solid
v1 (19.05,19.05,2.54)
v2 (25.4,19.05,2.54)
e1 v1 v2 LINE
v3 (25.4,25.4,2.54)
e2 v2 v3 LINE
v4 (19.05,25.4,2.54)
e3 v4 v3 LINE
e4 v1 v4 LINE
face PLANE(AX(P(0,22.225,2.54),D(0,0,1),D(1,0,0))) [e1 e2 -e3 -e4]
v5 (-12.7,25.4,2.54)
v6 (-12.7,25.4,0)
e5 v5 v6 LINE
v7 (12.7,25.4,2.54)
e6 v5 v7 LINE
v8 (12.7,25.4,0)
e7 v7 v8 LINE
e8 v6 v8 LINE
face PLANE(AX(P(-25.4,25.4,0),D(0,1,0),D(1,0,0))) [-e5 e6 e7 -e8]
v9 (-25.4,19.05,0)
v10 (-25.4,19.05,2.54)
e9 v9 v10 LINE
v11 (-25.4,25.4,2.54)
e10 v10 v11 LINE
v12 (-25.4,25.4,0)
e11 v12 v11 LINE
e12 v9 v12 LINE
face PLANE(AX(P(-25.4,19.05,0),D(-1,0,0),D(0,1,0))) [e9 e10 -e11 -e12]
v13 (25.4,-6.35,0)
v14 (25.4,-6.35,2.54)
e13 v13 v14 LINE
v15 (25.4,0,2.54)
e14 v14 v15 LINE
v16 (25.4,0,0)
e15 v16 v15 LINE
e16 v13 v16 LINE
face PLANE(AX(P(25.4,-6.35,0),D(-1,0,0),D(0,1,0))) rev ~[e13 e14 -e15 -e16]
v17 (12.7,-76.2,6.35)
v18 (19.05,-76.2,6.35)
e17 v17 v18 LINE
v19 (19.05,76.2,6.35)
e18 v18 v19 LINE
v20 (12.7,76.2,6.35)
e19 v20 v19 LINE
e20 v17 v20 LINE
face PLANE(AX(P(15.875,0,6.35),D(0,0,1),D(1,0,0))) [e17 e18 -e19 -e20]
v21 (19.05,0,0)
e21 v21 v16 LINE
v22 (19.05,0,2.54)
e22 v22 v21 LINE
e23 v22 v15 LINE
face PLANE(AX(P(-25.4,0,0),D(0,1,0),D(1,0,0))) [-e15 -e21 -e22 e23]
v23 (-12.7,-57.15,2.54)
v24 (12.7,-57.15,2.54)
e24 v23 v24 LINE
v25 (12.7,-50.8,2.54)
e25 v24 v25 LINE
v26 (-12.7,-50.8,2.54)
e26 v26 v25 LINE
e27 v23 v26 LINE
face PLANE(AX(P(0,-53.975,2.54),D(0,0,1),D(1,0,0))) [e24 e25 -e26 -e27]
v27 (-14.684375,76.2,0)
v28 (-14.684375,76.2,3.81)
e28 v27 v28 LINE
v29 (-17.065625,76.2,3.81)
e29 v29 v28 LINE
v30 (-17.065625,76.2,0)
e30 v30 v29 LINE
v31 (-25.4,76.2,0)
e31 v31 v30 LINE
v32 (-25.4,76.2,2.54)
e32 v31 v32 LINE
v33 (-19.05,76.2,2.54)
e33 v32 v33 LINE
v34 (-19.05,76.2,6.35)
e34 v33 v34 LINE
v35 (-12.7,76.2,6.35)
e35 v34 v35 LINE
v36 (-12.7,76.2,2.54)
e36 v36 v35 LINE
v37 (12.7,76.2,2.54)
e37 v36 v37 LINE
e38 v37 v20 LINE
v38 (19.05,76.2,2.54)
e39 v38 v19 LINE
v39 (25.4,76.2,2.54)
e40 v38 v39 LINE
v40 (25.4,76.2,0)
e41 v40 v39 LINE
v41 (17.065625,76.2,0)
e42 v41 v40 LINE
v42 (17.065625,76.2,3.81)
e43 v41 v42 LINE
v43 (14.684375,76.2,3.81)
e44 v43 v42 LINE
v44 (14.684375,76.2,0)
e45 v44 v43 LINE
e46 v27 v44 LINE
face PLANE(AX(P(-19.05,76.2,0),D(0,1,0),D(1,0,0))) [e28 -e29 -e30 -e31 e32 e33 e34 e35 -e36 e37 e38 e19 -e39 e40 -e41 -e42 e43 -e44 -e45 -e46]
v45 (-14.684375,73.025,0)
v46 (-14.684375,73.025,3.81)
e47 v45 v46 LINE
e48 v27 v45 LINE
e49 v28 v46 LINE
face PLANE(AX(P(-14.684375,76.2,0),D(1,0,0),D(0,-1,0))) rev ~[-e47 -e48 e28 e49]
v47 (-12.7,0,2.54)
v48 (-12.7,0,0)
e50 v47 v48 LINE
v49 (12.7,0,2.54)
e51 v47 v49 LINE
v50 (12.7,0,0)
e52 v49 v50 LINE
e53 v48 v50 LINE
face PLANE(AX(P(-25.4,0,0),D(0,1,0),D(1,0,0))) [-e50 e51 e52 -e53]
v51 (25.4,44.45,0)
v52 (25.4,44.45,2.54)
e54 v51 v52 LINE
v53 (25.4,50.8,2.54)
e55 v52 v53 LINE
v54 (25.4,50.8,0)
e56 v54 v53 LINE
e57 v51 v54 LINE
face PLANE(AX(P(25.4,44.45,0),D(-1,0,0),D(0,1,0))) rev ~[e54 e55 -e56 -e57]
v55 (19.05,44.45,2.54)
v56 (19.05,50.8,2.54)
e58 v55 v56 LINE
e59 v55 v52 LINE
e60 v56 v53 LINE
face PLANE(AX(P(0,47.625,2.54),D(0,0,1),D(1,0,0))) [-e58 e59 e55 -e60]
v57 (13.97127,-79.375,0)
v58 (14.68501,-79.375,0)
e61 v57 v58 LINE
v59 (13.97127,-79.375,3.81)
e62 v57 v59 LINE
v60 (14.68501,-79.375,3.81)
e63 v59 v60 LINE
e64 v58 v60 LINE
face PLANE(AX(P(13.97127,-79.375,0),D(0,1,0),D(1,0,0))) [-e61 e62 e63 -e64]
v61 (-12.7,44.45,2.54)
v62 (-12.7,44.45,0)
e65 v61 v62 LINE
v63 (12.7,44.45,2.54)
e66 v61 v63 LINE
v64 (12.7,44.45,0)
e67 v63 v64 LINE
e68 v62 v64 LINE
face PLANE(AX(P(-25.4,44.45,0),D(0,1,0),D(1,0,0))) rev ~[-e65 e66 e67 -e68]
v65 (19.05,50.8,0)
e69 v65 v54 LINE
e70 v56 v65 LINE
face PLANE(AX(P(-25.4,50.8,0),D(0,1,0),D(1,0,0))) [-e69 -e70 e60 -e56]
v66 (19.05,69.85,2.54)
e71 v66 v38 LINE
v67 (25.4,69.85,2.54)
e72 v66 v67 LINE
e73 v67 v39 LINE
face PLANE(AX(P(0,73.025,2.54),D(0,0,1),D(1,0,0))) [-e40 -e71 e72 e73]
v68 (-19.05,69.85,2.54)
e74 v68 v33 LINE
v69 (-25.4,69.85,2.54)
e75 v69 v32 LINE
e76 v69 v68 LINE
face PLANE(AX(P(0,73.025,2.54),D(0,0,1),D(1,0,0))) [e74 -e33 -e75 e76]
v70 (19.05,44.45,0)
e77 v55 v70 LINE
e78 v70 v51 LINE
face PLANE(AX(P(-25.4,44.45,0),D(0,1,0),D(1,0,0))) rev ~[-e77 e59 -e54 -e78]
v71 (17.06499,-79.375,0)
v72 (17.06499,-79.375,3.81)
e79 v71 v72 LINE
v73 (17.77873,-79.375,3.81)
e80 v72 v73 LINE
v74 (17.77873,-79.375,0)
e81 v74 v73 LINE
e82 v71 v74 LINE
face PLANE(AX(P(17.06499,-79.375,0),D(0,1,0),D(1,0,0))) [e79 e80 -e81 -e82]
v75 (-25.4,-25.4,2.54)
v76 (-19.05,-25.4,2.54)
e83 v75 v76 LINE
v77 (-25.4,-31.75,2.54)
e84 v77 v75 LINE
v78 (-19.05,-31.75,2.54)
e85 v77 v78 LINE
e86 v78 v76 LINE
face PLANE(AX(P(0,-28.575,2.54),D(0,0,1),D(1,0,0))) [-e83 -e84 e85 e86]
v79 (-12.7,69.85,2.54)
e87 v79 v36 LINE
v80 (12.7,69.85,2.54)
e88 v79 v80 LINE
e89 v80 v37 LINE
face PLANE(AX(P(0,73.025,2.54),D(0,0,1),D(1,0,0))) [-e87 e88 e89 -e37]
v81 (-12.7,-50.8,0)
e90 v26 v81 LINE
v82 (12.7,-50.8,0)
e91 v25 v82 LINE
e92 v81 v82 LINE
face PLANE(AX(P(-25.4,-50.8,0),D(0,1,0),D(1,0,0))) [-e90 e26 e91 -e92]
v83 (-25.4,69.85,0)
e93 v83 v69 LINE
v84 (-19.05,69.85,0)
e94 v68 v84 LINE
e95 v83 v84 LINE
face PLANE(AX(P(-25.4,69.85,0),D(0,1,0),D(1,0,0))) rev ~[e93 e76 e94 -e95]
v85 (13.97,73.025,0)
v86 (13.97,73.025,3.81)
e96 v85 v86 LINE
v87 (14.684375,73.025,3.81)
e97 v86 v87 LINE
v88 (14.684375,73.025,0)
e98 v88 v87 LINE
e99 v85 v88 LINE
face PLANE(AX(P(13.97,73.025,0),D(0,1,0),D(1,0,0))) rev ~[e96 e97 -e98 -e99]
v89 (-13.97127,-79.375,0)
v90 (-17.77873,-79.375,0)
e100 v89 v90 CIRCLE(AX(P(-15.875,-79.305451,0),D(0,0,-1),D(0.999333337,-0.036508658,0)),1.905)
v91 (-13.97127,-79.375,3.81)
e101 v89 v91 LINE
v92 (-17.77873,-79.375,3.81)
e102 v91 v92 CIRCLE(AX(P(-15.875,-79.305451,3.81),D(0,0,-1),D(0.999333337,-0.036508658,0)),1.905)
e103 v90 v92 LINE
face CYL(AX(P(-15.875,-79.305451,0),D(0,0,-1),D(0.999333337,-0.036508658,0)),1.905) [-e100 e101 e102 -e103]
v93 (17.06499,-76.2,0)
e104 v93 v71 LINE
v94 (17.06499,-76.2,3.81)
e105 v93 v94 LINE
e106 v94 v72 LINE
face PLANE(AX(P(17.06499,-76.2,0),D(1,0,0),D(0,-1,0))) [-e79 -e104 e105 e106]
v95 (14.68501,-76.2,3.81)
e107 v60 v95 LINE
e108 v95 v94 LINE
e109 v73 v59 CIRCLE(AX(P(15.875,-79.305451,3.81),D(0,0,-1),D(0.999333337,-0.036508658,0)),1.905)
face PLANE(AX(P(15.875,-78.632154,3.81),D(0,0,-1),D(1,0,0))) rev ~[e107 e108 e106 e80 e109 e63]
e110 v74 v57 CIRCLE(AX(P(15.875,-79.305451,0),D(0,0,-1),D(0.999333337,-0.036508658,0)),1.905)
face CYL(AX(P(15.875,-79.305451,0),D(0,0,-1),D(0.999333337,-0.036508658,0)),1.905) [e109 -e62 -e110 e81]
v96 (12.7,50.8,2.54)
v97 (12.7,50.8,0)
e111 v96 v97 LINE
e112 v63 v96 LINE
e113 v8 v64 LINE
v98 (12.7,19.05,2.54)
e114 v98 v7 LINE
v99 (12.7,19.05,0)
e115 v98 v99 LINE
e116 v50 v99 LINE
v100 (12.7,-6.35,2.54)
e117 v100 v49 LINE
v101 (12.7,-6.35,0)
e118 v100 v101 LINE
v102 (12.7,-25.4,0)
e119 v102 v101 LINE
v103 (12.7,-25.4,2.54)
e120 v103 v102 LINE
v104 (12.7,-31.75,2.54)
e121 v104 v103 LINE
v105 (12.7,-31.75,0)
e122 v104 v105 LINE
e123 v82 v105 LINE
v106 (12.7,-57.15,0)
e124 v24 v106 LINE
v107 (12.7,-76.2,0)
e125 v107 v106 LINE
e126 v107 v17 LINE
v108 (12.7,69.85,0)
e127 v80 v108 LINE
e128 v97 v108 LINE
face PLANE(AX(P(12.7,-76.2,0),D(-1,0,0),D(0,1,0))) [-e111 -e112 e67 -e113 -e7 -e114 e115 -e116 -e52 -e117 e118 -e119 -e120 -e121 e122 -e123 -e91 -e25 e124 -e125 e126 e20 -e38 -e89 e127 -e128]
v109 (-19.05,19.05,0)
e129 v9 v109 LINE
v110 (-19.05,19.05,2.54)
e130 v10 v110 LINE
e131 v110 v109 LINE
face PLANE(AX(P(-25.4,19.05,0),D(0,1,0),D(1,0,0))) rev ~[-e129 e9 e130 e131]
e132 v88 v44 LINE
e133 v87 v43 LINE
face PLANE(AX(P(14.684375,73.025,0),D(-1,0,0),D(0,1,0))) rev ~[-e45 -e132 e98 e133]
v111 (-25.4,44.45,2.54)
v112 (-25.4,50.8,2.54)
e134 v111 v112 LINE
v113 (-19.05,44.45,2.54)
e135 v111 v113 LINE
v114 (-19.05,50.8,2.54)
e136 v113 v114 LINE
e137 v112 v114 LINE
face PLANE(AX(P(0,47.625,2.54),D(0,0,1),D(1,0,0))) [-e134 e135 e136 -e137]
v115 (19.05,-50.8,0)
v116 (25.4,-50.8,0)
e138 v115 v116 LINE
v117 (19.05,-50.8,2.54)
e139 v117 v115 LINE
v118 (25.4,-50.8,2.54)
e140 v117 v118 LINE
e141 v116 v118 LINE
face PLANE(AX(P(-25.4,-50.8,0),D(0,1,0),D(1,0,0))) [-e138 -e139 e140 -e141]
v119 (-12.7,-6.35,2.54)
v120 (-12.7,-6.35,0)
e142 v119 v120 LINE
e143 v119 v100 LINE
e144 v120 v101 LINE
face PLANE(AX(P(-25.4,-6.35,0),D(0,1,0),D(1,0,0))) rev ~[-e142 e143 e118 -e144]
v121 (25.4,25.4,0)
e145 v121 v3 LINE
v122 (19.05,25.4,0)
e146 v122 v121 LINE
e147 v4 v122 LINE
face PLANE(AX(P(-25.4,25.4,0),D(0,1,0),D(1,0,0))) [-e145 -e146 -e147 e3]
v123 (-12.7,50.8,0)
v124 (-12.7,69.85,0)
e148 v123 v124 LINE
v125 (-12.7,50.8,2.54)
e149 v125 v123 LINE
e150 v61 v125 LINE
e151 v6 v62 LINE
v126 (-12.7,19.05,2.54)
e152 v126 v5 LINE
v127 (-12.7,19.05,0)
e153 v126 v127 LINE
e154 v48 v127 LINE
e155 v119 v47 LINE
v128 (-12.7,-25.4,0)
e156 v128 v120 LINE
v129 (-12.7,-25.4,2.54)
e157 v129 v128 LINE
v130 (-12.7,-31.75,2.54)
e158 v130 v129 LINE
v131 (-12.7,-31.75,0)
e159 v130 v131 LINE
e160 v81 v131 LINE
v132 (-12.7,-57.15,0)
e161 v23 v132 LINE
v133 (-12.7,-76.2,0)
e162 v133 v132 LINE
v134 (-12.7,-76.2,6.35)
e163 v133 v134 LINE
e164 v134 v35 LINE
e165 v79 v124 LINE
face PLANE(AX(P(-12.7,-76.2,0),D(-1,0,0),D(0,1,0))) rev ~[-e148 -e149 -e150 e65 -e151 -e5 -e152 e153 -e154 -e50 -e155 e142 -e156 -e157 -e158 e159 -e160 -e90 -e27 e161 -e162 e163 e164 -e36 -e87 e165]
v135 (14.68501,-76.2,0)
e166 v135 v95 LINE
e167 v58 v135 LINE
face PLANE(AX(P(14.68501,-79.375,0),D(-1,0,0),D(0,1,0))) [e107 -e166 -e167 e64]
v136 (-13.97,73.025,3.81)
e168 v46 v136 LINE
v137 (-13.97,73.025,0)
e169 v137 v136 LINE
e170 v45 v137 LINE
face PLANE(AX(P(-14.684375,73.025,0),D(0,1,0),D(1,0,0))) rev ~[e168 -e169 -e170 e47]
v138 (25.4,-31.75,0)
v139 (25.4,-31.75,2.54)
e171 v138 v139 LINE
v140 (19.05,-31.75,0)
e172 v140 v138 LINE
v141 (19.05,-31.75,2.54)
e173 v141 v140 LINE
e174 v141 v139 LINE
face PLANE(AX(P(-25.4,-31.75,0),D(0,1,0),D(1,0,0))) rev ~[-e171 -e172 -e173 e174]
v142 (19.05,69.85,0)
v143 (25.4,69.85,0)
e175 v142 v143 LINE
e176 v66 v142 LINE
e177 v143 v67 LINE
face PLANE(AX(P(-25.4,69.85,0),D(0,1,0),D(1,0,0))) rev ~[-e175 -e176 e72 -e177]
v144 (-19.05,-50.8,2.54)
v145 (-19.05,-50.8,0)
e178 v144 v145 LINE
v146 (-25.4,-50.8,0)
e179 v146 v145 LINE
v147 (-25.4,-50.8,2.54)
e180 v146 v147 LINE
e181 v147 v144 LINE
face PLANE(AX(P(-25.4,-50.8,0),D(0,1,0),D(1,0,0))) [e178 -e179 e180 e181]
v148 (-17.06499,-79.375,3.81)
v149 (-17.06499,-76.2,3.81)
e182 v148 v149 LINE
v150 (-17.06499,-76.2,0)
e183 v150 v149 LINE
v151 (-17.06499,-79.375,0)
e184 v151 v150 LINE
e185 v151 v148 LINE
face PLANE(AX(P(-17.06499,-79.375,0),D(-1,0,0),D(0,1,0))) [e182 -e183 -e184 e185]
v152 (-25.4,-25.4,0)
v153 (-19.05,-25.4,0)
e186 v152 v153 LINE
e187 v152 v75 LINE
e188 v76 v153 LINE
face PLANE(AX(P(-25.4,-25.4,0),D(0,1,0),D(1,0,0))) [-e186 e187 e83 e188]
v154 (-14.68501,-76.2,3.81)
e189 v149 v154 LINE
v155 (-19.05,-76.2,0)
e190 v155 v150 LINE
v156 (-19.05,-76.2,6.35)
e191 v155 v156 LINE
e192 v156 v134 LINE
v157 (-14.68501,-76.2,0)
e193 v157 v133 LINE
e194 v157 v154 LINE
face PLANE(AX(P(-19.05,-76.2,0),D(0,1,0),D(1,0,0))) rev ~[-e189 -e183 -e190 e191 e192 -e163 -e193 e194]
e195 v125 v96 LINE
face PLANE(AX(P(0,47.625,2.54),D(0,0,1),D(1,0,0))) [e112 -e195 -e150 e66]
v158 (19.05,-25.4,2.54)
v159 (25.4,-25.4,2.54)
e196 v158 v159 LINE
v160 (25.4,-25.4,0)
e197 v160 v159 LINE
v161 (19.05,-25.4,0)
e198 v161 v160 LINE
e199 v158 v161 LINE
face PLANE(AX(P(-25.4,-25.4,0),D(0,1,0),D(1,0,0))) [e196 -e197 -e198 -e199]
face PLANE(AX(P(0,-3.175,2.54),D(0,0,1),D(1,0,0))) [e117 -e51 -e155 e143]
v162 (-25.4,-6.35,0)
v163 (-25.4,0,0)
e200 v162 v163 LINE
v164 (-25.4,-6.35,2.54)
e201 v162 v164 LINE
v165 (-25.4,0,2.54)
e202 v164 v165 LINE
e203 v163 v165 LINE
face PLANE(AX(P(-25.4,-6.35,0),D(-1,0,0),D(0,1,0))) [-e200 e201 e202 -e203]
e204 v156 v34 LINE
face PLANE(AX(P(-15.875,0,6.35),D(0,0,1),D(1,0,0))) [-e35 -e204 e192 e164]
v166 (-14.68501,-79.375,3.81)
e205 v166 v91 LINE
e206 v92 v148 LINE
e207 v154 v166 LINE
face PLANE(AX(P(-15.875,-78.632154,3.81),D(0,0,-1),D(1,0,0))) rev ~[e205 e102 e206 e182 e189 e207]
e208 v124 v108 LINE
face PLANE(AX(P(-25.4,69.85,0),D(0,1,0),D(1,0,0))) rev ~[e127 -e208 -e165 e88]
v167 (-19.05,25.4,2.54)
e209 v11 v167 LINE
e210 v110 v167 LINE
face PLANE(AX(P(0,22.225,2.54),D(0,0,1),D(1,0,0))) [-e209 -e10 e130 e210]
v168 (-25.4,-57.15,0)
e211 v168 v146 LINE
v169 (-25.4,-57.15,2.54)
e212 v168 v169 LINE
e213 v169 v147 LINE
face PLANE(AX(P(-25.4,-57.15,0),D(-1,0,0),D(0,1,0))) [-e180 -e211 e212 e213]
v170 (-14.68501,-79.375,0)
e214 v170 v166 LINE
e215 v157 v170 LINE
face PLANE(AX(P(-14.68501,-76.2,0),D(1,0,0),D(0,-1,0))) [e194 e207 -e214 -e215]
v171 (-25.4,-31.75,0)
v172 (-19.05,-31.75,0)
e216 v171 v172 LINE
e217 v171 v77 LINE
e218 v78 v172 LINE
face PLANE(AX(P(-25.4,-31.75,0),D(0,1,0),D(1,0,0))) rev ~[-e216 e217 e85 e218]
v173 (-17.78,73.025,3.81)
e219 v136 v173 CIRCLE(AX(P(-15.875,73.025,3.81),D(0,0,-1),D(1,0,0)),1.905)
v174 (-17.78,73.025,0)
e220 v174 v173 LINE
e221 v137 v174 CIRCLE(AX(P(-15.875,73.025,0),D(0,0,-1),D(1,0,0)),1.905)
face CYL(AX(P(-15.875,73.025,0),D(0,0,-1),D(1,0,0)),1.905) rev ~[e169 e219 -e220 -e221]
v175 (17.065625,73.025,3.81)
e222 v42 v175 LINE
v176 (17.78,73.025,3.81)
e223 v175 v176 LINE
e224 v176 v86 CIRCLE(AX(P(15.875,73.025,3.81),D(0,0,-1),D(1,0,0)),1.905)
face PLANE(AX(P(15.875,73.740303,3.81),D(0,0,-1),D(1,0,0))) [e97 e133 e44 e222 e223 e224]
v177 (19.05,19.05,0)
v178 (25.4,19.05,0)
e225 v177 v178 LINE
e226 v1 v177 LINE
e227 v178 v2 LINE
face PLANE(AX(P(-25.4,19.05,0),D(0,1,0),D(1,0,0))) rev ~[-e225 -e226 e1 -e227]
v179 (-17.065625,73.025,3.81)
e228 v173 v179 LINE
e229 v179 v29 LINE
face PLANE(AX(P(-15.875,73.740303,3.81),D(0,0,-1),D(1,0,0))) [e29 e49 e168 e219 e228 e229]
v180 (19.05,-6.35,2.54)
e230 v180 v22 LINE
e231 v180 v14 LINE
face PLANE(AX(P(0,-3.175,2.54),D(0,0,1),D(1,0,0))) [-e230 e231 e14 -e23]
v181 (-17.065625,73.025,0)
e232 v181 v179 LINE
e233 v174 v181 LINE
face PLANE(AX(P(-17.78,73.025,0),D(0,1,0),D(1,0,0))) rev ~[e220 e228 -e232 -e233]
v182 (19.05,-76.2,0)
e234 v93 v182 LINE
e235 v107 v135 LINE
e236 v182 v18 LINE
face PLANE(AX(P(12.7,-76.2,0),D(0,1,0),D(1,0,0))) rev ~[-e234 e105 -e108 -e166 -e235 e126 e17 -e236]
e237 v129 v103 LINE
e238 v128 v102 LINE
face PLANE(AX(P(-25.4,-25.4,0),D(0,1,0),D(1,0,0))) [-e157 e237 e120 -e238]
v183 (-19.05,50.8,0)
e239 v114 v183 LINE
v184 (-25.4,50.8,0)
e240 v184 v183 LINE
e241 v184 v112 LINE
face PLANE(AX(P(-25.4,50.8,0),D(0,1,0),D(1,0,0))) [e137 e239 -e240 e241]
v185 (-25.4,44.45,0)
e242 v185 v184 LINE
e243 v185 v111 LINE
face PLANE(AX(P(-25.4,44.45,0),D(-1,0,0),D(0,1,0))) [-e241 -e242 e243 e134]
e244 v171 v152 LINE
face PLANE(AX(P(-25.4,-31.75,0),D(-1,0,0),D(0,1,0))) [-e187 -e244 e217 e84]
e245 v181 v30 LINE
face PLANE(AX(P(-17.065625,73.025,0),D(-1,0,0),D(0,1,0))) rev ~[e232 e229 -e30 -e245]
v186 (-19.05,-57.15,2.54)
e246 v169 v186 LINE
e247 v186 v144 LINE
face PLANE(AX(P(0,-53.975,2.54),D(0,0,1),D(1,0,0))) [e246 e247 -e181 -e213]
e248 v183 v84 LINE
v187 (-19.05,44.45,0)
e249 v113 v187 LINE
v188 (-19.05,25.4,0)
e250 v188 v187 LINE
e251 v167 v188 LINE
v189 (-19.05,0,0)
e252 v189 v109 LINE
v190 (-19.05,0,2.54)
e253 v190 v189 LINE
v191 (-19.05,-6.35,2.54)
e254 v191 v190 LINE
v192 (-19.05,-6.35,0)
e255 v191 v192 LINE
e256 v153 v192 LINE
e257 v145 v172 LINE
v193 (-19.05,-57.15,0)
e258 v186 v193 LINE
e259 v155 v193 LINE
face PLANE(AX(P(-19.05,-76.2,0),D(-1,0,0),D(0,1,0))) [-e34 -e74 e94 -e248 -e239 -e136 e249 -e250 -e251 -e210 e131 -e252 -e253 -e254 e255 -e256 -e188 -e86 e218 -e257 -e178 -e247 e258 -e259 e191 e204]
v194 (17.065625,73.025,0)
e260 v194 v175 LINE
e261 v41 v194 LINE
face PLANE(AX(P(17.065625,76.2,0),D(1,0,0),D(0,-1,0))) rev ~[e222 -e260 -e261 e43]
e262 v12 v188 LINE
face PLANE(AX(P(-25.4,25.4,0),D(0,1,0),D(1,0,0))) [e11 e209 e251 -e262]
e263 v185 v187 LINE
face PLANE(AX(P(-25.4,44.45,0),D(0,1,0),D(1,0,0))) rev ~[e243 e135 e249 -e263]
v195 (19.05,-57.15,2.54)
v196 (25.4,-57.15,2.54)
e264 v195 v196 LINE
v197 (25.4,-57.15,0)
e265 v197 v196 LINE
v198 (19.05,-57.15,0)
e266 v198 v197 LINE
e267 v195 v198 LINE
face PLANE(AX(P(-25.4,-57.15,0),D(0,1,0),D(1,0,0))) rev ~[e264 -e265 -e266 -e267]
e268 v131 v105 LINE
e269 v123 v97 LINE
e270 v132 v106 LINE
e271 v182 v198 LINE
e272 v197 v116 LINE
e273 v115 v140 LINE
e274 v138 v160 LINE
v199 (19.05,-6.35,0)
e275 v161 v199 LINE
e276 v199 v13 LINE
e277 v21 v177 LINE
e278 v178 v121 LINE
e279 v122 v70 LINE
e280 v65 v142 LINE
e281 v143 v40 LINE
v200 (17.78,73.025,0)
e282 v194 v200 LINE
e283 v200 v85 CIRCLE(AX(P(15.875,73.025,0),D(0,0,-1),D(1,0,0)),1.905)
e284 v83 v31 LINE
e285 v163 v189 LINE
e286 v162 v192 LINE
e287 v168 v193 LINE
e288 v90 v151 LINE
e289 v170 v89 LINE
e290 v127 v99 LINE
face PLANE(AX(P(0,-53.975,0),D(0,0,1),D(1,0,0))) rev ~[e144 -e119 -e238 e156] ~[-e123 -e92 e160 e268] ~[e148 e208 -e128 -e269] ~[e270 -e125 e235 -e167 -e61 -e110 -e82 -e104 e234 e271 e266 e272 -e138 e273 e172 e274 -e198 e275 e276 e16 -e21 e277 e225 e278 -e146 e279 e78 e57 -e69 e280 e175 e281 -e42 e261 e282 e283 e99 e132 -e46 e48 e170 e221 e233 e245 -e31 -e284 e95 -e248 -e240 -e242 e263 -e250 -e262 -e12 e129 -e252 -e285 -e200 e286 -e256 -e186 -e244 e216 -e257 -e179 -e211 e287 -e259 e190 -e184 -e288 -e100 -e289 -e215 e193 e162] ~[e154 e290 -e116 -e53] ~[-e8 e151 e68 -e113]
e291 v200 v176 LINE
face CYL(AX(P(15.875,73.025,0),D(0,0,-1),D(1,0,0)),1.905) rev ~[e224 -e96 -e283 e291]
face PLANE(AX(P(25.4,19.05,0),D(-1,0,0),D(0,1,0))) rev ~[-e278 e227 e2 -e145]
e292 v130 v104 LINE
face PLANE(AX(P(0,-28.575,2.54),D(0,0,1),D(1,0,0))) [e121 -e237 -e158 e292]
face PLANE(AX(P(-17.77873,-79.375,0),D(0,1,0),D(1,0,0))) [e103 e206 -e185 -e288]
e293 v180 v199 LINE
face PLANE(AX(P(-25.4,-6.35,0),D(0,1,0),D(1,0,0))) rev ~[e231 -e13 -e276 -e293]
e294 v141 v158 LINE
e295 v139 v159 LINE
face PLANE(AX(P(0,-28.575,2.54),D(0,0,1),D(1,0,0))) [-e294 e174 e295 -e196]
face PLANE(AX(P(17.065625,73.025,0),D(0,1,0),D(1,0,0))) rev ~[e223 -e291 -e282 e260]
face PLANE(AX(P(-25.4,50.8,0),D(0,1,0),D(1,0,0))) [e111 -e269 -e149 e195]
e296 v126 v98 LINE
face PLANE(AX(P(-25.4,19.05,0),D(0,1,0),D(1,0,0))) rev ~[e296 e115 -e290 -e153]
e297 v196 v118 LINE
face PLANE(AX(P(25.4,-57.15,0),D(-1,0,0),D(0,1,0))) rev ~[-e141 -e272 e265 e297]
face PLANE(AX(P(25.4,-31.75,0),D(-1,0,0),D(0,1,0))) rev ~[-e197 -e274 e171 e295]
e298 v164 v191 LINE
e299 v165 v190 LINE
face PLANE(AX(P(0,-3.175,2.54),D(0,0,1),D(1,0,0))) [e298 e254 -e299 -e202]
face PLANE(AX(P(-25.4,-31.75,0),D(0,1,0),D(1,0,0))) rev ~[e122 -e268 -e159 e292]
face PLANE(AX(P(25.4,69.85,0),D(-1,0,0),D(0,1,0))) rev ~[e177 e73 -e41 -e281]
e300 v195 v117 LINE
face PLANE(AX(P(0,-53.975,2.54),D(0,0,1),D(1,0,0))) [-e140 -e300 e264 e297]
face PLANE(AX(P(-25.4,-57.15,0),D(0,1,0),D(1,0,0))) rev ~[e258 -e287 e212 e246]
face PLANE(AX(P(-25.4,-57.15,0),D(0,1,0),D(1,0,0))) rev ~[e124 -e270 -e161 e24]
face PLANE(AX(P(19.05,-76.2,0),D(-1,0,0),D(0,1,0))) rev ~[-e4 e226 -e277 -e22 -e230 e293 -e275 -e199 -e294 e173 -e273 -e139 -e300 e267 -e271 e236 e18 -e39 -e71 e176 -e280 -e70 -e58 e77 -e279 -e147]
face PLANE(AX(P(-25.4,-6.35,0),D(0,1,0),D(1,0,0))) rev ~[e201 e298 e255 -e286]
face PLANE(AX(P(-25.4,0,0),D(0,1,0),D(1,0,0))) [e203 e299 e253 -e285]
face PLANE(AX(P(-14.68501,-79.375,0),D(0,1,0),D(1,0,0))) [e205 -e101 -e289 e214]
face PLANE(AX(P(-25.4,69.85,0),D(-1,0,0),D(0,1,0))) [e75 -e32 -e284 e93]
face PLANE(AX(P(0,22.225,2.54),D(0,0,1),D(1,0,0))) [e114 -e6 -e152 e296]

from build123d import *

# Parameters (mm, degrees)
F0_W     = 6.35
F0_H     = 152.4
F1_DEPTH = 6.35
F2_W     = 50.8
F2_H     = 6.35
F3_DEPTH = 2.54
F5_DEPTH = 3.81
F7_DEPTH = 3.81


with BuildPart() as f1:
    # F0 (on Top) → F1 (new body)
    with BuildSketch(Plane.XY):
        with Locations((-15.875, 0)):
            Rectangle(F0_W, F0_H)
        with Locations((15.875, 0)):
            Rectangle(F0_W, F0_H)
    extrude(amount=F1_DEPTH)

    # F2 (on Top) → F3 (join)
    with BuildSketch(Plane.XY):
        with Locations((0, -53.975)):
            Rectangle(F2_W, F2_H)
        with Locations((0, -28.575)):
            Rectangle(F2_W, F2_H)
        with Locations((0, -3.175)):
            Rectangle(F2_W, F2_H)
        with Locations((0, 22.225)):
            Rectangle(F2_W, F2_H)
        with Locations((0, 47.625)):
            Rectangle(F2_W, F2_H)
        with Locations((0, 73.025)):
            Rectangle(F2_W, F2_H)
    extrude(amount=F3_DEPTH)

    # F4 (on face) → F5 (cut)
    with BuildSketch(Plane(origin=(0, 0, 0), x_dir=(1, 0, 0), z_dir=(0, 0, -1))):
        with BuildLine():
            Line((17.065625, -73.025), (17.78, -73.025))
            ThreePointArc((17.78, -73.025), (15.875, -71.12), (13.97, -73.025))
            Line((13.97, -73.025), (14.684375, -73.025))
            Line((14.684375, -73.025), (14.684375, -76.2))
            Line((14.684375, -76.2), (17.065625, -76.2))
            Line((17.065625, -76.2), (17.065625, -73.025))
        make_face()
        with BuildLine():
            Line((-17.78, -73.025), (-17.065625, -73.025))
            Line((-17.065625, -73.025), (-17.065625, -76.2))
            Line((-17.065625, -76.2), (-14.684375, -76.2))
            Line((-14.684375, -76.2), (-14.684375, -73.025))
            Line((-14.684375, -73.025), (-13.97, -73.025))
            ThreePointArc((-13.97, -73.025), (-15.875, -71.12), (-17.78, -73.025))
        make_face()
    extrude(amount=-F5_DEPTH, mode=Mode.SUBTRACT)

    # F6 (on face) → F7 (join)
    with BuildSketch(Plane(origin=(0, 0, 0), x_dir=(1, 0, 0), z_dir=(0, 0, -1))):
        with BuildLine():
            Line((-17.06499, 76.2), (-15.875, 76.2))
            Line((-15.875, 76.2), (-14.68501, 76.2))
            Line((-14.68501, 76.2), (-14.68501, 79.375))
            Line((-14.68501, 79.375), (-13.97127, 79.375))
            ThreePointArc((-13.97127, 79.375), (-15.875, 81.210451), (-17.77873, 79.375))
            Line((-17.77873, 79.375), (-17.06499, 79.375))
            Line((-17.06499, 79.375), (-17.06499, 76.2))
        make_face()
        with BuildLine():
            ThreePointArc((17.77873, 79.375), (15.875, 81.210451), (13.97127, 79.375))
            Line((13.97127, 79.375), (14.68501, 79.375))
            Line((14.68501, 79.375), (14.68501, 76.2))
            Line((14.68501, 76.2), (15.875, 76.2))
            Line((15.875, 76.2), (17.06499, 76.2))
            Line((17.06499, 76.2), (17.06499, 79.375))
            Line((17.06499, 79.375), (17.77873, 79.375))
        make_face()
    extrude(amount=-F7_DEPTH)


solid = f1.part
